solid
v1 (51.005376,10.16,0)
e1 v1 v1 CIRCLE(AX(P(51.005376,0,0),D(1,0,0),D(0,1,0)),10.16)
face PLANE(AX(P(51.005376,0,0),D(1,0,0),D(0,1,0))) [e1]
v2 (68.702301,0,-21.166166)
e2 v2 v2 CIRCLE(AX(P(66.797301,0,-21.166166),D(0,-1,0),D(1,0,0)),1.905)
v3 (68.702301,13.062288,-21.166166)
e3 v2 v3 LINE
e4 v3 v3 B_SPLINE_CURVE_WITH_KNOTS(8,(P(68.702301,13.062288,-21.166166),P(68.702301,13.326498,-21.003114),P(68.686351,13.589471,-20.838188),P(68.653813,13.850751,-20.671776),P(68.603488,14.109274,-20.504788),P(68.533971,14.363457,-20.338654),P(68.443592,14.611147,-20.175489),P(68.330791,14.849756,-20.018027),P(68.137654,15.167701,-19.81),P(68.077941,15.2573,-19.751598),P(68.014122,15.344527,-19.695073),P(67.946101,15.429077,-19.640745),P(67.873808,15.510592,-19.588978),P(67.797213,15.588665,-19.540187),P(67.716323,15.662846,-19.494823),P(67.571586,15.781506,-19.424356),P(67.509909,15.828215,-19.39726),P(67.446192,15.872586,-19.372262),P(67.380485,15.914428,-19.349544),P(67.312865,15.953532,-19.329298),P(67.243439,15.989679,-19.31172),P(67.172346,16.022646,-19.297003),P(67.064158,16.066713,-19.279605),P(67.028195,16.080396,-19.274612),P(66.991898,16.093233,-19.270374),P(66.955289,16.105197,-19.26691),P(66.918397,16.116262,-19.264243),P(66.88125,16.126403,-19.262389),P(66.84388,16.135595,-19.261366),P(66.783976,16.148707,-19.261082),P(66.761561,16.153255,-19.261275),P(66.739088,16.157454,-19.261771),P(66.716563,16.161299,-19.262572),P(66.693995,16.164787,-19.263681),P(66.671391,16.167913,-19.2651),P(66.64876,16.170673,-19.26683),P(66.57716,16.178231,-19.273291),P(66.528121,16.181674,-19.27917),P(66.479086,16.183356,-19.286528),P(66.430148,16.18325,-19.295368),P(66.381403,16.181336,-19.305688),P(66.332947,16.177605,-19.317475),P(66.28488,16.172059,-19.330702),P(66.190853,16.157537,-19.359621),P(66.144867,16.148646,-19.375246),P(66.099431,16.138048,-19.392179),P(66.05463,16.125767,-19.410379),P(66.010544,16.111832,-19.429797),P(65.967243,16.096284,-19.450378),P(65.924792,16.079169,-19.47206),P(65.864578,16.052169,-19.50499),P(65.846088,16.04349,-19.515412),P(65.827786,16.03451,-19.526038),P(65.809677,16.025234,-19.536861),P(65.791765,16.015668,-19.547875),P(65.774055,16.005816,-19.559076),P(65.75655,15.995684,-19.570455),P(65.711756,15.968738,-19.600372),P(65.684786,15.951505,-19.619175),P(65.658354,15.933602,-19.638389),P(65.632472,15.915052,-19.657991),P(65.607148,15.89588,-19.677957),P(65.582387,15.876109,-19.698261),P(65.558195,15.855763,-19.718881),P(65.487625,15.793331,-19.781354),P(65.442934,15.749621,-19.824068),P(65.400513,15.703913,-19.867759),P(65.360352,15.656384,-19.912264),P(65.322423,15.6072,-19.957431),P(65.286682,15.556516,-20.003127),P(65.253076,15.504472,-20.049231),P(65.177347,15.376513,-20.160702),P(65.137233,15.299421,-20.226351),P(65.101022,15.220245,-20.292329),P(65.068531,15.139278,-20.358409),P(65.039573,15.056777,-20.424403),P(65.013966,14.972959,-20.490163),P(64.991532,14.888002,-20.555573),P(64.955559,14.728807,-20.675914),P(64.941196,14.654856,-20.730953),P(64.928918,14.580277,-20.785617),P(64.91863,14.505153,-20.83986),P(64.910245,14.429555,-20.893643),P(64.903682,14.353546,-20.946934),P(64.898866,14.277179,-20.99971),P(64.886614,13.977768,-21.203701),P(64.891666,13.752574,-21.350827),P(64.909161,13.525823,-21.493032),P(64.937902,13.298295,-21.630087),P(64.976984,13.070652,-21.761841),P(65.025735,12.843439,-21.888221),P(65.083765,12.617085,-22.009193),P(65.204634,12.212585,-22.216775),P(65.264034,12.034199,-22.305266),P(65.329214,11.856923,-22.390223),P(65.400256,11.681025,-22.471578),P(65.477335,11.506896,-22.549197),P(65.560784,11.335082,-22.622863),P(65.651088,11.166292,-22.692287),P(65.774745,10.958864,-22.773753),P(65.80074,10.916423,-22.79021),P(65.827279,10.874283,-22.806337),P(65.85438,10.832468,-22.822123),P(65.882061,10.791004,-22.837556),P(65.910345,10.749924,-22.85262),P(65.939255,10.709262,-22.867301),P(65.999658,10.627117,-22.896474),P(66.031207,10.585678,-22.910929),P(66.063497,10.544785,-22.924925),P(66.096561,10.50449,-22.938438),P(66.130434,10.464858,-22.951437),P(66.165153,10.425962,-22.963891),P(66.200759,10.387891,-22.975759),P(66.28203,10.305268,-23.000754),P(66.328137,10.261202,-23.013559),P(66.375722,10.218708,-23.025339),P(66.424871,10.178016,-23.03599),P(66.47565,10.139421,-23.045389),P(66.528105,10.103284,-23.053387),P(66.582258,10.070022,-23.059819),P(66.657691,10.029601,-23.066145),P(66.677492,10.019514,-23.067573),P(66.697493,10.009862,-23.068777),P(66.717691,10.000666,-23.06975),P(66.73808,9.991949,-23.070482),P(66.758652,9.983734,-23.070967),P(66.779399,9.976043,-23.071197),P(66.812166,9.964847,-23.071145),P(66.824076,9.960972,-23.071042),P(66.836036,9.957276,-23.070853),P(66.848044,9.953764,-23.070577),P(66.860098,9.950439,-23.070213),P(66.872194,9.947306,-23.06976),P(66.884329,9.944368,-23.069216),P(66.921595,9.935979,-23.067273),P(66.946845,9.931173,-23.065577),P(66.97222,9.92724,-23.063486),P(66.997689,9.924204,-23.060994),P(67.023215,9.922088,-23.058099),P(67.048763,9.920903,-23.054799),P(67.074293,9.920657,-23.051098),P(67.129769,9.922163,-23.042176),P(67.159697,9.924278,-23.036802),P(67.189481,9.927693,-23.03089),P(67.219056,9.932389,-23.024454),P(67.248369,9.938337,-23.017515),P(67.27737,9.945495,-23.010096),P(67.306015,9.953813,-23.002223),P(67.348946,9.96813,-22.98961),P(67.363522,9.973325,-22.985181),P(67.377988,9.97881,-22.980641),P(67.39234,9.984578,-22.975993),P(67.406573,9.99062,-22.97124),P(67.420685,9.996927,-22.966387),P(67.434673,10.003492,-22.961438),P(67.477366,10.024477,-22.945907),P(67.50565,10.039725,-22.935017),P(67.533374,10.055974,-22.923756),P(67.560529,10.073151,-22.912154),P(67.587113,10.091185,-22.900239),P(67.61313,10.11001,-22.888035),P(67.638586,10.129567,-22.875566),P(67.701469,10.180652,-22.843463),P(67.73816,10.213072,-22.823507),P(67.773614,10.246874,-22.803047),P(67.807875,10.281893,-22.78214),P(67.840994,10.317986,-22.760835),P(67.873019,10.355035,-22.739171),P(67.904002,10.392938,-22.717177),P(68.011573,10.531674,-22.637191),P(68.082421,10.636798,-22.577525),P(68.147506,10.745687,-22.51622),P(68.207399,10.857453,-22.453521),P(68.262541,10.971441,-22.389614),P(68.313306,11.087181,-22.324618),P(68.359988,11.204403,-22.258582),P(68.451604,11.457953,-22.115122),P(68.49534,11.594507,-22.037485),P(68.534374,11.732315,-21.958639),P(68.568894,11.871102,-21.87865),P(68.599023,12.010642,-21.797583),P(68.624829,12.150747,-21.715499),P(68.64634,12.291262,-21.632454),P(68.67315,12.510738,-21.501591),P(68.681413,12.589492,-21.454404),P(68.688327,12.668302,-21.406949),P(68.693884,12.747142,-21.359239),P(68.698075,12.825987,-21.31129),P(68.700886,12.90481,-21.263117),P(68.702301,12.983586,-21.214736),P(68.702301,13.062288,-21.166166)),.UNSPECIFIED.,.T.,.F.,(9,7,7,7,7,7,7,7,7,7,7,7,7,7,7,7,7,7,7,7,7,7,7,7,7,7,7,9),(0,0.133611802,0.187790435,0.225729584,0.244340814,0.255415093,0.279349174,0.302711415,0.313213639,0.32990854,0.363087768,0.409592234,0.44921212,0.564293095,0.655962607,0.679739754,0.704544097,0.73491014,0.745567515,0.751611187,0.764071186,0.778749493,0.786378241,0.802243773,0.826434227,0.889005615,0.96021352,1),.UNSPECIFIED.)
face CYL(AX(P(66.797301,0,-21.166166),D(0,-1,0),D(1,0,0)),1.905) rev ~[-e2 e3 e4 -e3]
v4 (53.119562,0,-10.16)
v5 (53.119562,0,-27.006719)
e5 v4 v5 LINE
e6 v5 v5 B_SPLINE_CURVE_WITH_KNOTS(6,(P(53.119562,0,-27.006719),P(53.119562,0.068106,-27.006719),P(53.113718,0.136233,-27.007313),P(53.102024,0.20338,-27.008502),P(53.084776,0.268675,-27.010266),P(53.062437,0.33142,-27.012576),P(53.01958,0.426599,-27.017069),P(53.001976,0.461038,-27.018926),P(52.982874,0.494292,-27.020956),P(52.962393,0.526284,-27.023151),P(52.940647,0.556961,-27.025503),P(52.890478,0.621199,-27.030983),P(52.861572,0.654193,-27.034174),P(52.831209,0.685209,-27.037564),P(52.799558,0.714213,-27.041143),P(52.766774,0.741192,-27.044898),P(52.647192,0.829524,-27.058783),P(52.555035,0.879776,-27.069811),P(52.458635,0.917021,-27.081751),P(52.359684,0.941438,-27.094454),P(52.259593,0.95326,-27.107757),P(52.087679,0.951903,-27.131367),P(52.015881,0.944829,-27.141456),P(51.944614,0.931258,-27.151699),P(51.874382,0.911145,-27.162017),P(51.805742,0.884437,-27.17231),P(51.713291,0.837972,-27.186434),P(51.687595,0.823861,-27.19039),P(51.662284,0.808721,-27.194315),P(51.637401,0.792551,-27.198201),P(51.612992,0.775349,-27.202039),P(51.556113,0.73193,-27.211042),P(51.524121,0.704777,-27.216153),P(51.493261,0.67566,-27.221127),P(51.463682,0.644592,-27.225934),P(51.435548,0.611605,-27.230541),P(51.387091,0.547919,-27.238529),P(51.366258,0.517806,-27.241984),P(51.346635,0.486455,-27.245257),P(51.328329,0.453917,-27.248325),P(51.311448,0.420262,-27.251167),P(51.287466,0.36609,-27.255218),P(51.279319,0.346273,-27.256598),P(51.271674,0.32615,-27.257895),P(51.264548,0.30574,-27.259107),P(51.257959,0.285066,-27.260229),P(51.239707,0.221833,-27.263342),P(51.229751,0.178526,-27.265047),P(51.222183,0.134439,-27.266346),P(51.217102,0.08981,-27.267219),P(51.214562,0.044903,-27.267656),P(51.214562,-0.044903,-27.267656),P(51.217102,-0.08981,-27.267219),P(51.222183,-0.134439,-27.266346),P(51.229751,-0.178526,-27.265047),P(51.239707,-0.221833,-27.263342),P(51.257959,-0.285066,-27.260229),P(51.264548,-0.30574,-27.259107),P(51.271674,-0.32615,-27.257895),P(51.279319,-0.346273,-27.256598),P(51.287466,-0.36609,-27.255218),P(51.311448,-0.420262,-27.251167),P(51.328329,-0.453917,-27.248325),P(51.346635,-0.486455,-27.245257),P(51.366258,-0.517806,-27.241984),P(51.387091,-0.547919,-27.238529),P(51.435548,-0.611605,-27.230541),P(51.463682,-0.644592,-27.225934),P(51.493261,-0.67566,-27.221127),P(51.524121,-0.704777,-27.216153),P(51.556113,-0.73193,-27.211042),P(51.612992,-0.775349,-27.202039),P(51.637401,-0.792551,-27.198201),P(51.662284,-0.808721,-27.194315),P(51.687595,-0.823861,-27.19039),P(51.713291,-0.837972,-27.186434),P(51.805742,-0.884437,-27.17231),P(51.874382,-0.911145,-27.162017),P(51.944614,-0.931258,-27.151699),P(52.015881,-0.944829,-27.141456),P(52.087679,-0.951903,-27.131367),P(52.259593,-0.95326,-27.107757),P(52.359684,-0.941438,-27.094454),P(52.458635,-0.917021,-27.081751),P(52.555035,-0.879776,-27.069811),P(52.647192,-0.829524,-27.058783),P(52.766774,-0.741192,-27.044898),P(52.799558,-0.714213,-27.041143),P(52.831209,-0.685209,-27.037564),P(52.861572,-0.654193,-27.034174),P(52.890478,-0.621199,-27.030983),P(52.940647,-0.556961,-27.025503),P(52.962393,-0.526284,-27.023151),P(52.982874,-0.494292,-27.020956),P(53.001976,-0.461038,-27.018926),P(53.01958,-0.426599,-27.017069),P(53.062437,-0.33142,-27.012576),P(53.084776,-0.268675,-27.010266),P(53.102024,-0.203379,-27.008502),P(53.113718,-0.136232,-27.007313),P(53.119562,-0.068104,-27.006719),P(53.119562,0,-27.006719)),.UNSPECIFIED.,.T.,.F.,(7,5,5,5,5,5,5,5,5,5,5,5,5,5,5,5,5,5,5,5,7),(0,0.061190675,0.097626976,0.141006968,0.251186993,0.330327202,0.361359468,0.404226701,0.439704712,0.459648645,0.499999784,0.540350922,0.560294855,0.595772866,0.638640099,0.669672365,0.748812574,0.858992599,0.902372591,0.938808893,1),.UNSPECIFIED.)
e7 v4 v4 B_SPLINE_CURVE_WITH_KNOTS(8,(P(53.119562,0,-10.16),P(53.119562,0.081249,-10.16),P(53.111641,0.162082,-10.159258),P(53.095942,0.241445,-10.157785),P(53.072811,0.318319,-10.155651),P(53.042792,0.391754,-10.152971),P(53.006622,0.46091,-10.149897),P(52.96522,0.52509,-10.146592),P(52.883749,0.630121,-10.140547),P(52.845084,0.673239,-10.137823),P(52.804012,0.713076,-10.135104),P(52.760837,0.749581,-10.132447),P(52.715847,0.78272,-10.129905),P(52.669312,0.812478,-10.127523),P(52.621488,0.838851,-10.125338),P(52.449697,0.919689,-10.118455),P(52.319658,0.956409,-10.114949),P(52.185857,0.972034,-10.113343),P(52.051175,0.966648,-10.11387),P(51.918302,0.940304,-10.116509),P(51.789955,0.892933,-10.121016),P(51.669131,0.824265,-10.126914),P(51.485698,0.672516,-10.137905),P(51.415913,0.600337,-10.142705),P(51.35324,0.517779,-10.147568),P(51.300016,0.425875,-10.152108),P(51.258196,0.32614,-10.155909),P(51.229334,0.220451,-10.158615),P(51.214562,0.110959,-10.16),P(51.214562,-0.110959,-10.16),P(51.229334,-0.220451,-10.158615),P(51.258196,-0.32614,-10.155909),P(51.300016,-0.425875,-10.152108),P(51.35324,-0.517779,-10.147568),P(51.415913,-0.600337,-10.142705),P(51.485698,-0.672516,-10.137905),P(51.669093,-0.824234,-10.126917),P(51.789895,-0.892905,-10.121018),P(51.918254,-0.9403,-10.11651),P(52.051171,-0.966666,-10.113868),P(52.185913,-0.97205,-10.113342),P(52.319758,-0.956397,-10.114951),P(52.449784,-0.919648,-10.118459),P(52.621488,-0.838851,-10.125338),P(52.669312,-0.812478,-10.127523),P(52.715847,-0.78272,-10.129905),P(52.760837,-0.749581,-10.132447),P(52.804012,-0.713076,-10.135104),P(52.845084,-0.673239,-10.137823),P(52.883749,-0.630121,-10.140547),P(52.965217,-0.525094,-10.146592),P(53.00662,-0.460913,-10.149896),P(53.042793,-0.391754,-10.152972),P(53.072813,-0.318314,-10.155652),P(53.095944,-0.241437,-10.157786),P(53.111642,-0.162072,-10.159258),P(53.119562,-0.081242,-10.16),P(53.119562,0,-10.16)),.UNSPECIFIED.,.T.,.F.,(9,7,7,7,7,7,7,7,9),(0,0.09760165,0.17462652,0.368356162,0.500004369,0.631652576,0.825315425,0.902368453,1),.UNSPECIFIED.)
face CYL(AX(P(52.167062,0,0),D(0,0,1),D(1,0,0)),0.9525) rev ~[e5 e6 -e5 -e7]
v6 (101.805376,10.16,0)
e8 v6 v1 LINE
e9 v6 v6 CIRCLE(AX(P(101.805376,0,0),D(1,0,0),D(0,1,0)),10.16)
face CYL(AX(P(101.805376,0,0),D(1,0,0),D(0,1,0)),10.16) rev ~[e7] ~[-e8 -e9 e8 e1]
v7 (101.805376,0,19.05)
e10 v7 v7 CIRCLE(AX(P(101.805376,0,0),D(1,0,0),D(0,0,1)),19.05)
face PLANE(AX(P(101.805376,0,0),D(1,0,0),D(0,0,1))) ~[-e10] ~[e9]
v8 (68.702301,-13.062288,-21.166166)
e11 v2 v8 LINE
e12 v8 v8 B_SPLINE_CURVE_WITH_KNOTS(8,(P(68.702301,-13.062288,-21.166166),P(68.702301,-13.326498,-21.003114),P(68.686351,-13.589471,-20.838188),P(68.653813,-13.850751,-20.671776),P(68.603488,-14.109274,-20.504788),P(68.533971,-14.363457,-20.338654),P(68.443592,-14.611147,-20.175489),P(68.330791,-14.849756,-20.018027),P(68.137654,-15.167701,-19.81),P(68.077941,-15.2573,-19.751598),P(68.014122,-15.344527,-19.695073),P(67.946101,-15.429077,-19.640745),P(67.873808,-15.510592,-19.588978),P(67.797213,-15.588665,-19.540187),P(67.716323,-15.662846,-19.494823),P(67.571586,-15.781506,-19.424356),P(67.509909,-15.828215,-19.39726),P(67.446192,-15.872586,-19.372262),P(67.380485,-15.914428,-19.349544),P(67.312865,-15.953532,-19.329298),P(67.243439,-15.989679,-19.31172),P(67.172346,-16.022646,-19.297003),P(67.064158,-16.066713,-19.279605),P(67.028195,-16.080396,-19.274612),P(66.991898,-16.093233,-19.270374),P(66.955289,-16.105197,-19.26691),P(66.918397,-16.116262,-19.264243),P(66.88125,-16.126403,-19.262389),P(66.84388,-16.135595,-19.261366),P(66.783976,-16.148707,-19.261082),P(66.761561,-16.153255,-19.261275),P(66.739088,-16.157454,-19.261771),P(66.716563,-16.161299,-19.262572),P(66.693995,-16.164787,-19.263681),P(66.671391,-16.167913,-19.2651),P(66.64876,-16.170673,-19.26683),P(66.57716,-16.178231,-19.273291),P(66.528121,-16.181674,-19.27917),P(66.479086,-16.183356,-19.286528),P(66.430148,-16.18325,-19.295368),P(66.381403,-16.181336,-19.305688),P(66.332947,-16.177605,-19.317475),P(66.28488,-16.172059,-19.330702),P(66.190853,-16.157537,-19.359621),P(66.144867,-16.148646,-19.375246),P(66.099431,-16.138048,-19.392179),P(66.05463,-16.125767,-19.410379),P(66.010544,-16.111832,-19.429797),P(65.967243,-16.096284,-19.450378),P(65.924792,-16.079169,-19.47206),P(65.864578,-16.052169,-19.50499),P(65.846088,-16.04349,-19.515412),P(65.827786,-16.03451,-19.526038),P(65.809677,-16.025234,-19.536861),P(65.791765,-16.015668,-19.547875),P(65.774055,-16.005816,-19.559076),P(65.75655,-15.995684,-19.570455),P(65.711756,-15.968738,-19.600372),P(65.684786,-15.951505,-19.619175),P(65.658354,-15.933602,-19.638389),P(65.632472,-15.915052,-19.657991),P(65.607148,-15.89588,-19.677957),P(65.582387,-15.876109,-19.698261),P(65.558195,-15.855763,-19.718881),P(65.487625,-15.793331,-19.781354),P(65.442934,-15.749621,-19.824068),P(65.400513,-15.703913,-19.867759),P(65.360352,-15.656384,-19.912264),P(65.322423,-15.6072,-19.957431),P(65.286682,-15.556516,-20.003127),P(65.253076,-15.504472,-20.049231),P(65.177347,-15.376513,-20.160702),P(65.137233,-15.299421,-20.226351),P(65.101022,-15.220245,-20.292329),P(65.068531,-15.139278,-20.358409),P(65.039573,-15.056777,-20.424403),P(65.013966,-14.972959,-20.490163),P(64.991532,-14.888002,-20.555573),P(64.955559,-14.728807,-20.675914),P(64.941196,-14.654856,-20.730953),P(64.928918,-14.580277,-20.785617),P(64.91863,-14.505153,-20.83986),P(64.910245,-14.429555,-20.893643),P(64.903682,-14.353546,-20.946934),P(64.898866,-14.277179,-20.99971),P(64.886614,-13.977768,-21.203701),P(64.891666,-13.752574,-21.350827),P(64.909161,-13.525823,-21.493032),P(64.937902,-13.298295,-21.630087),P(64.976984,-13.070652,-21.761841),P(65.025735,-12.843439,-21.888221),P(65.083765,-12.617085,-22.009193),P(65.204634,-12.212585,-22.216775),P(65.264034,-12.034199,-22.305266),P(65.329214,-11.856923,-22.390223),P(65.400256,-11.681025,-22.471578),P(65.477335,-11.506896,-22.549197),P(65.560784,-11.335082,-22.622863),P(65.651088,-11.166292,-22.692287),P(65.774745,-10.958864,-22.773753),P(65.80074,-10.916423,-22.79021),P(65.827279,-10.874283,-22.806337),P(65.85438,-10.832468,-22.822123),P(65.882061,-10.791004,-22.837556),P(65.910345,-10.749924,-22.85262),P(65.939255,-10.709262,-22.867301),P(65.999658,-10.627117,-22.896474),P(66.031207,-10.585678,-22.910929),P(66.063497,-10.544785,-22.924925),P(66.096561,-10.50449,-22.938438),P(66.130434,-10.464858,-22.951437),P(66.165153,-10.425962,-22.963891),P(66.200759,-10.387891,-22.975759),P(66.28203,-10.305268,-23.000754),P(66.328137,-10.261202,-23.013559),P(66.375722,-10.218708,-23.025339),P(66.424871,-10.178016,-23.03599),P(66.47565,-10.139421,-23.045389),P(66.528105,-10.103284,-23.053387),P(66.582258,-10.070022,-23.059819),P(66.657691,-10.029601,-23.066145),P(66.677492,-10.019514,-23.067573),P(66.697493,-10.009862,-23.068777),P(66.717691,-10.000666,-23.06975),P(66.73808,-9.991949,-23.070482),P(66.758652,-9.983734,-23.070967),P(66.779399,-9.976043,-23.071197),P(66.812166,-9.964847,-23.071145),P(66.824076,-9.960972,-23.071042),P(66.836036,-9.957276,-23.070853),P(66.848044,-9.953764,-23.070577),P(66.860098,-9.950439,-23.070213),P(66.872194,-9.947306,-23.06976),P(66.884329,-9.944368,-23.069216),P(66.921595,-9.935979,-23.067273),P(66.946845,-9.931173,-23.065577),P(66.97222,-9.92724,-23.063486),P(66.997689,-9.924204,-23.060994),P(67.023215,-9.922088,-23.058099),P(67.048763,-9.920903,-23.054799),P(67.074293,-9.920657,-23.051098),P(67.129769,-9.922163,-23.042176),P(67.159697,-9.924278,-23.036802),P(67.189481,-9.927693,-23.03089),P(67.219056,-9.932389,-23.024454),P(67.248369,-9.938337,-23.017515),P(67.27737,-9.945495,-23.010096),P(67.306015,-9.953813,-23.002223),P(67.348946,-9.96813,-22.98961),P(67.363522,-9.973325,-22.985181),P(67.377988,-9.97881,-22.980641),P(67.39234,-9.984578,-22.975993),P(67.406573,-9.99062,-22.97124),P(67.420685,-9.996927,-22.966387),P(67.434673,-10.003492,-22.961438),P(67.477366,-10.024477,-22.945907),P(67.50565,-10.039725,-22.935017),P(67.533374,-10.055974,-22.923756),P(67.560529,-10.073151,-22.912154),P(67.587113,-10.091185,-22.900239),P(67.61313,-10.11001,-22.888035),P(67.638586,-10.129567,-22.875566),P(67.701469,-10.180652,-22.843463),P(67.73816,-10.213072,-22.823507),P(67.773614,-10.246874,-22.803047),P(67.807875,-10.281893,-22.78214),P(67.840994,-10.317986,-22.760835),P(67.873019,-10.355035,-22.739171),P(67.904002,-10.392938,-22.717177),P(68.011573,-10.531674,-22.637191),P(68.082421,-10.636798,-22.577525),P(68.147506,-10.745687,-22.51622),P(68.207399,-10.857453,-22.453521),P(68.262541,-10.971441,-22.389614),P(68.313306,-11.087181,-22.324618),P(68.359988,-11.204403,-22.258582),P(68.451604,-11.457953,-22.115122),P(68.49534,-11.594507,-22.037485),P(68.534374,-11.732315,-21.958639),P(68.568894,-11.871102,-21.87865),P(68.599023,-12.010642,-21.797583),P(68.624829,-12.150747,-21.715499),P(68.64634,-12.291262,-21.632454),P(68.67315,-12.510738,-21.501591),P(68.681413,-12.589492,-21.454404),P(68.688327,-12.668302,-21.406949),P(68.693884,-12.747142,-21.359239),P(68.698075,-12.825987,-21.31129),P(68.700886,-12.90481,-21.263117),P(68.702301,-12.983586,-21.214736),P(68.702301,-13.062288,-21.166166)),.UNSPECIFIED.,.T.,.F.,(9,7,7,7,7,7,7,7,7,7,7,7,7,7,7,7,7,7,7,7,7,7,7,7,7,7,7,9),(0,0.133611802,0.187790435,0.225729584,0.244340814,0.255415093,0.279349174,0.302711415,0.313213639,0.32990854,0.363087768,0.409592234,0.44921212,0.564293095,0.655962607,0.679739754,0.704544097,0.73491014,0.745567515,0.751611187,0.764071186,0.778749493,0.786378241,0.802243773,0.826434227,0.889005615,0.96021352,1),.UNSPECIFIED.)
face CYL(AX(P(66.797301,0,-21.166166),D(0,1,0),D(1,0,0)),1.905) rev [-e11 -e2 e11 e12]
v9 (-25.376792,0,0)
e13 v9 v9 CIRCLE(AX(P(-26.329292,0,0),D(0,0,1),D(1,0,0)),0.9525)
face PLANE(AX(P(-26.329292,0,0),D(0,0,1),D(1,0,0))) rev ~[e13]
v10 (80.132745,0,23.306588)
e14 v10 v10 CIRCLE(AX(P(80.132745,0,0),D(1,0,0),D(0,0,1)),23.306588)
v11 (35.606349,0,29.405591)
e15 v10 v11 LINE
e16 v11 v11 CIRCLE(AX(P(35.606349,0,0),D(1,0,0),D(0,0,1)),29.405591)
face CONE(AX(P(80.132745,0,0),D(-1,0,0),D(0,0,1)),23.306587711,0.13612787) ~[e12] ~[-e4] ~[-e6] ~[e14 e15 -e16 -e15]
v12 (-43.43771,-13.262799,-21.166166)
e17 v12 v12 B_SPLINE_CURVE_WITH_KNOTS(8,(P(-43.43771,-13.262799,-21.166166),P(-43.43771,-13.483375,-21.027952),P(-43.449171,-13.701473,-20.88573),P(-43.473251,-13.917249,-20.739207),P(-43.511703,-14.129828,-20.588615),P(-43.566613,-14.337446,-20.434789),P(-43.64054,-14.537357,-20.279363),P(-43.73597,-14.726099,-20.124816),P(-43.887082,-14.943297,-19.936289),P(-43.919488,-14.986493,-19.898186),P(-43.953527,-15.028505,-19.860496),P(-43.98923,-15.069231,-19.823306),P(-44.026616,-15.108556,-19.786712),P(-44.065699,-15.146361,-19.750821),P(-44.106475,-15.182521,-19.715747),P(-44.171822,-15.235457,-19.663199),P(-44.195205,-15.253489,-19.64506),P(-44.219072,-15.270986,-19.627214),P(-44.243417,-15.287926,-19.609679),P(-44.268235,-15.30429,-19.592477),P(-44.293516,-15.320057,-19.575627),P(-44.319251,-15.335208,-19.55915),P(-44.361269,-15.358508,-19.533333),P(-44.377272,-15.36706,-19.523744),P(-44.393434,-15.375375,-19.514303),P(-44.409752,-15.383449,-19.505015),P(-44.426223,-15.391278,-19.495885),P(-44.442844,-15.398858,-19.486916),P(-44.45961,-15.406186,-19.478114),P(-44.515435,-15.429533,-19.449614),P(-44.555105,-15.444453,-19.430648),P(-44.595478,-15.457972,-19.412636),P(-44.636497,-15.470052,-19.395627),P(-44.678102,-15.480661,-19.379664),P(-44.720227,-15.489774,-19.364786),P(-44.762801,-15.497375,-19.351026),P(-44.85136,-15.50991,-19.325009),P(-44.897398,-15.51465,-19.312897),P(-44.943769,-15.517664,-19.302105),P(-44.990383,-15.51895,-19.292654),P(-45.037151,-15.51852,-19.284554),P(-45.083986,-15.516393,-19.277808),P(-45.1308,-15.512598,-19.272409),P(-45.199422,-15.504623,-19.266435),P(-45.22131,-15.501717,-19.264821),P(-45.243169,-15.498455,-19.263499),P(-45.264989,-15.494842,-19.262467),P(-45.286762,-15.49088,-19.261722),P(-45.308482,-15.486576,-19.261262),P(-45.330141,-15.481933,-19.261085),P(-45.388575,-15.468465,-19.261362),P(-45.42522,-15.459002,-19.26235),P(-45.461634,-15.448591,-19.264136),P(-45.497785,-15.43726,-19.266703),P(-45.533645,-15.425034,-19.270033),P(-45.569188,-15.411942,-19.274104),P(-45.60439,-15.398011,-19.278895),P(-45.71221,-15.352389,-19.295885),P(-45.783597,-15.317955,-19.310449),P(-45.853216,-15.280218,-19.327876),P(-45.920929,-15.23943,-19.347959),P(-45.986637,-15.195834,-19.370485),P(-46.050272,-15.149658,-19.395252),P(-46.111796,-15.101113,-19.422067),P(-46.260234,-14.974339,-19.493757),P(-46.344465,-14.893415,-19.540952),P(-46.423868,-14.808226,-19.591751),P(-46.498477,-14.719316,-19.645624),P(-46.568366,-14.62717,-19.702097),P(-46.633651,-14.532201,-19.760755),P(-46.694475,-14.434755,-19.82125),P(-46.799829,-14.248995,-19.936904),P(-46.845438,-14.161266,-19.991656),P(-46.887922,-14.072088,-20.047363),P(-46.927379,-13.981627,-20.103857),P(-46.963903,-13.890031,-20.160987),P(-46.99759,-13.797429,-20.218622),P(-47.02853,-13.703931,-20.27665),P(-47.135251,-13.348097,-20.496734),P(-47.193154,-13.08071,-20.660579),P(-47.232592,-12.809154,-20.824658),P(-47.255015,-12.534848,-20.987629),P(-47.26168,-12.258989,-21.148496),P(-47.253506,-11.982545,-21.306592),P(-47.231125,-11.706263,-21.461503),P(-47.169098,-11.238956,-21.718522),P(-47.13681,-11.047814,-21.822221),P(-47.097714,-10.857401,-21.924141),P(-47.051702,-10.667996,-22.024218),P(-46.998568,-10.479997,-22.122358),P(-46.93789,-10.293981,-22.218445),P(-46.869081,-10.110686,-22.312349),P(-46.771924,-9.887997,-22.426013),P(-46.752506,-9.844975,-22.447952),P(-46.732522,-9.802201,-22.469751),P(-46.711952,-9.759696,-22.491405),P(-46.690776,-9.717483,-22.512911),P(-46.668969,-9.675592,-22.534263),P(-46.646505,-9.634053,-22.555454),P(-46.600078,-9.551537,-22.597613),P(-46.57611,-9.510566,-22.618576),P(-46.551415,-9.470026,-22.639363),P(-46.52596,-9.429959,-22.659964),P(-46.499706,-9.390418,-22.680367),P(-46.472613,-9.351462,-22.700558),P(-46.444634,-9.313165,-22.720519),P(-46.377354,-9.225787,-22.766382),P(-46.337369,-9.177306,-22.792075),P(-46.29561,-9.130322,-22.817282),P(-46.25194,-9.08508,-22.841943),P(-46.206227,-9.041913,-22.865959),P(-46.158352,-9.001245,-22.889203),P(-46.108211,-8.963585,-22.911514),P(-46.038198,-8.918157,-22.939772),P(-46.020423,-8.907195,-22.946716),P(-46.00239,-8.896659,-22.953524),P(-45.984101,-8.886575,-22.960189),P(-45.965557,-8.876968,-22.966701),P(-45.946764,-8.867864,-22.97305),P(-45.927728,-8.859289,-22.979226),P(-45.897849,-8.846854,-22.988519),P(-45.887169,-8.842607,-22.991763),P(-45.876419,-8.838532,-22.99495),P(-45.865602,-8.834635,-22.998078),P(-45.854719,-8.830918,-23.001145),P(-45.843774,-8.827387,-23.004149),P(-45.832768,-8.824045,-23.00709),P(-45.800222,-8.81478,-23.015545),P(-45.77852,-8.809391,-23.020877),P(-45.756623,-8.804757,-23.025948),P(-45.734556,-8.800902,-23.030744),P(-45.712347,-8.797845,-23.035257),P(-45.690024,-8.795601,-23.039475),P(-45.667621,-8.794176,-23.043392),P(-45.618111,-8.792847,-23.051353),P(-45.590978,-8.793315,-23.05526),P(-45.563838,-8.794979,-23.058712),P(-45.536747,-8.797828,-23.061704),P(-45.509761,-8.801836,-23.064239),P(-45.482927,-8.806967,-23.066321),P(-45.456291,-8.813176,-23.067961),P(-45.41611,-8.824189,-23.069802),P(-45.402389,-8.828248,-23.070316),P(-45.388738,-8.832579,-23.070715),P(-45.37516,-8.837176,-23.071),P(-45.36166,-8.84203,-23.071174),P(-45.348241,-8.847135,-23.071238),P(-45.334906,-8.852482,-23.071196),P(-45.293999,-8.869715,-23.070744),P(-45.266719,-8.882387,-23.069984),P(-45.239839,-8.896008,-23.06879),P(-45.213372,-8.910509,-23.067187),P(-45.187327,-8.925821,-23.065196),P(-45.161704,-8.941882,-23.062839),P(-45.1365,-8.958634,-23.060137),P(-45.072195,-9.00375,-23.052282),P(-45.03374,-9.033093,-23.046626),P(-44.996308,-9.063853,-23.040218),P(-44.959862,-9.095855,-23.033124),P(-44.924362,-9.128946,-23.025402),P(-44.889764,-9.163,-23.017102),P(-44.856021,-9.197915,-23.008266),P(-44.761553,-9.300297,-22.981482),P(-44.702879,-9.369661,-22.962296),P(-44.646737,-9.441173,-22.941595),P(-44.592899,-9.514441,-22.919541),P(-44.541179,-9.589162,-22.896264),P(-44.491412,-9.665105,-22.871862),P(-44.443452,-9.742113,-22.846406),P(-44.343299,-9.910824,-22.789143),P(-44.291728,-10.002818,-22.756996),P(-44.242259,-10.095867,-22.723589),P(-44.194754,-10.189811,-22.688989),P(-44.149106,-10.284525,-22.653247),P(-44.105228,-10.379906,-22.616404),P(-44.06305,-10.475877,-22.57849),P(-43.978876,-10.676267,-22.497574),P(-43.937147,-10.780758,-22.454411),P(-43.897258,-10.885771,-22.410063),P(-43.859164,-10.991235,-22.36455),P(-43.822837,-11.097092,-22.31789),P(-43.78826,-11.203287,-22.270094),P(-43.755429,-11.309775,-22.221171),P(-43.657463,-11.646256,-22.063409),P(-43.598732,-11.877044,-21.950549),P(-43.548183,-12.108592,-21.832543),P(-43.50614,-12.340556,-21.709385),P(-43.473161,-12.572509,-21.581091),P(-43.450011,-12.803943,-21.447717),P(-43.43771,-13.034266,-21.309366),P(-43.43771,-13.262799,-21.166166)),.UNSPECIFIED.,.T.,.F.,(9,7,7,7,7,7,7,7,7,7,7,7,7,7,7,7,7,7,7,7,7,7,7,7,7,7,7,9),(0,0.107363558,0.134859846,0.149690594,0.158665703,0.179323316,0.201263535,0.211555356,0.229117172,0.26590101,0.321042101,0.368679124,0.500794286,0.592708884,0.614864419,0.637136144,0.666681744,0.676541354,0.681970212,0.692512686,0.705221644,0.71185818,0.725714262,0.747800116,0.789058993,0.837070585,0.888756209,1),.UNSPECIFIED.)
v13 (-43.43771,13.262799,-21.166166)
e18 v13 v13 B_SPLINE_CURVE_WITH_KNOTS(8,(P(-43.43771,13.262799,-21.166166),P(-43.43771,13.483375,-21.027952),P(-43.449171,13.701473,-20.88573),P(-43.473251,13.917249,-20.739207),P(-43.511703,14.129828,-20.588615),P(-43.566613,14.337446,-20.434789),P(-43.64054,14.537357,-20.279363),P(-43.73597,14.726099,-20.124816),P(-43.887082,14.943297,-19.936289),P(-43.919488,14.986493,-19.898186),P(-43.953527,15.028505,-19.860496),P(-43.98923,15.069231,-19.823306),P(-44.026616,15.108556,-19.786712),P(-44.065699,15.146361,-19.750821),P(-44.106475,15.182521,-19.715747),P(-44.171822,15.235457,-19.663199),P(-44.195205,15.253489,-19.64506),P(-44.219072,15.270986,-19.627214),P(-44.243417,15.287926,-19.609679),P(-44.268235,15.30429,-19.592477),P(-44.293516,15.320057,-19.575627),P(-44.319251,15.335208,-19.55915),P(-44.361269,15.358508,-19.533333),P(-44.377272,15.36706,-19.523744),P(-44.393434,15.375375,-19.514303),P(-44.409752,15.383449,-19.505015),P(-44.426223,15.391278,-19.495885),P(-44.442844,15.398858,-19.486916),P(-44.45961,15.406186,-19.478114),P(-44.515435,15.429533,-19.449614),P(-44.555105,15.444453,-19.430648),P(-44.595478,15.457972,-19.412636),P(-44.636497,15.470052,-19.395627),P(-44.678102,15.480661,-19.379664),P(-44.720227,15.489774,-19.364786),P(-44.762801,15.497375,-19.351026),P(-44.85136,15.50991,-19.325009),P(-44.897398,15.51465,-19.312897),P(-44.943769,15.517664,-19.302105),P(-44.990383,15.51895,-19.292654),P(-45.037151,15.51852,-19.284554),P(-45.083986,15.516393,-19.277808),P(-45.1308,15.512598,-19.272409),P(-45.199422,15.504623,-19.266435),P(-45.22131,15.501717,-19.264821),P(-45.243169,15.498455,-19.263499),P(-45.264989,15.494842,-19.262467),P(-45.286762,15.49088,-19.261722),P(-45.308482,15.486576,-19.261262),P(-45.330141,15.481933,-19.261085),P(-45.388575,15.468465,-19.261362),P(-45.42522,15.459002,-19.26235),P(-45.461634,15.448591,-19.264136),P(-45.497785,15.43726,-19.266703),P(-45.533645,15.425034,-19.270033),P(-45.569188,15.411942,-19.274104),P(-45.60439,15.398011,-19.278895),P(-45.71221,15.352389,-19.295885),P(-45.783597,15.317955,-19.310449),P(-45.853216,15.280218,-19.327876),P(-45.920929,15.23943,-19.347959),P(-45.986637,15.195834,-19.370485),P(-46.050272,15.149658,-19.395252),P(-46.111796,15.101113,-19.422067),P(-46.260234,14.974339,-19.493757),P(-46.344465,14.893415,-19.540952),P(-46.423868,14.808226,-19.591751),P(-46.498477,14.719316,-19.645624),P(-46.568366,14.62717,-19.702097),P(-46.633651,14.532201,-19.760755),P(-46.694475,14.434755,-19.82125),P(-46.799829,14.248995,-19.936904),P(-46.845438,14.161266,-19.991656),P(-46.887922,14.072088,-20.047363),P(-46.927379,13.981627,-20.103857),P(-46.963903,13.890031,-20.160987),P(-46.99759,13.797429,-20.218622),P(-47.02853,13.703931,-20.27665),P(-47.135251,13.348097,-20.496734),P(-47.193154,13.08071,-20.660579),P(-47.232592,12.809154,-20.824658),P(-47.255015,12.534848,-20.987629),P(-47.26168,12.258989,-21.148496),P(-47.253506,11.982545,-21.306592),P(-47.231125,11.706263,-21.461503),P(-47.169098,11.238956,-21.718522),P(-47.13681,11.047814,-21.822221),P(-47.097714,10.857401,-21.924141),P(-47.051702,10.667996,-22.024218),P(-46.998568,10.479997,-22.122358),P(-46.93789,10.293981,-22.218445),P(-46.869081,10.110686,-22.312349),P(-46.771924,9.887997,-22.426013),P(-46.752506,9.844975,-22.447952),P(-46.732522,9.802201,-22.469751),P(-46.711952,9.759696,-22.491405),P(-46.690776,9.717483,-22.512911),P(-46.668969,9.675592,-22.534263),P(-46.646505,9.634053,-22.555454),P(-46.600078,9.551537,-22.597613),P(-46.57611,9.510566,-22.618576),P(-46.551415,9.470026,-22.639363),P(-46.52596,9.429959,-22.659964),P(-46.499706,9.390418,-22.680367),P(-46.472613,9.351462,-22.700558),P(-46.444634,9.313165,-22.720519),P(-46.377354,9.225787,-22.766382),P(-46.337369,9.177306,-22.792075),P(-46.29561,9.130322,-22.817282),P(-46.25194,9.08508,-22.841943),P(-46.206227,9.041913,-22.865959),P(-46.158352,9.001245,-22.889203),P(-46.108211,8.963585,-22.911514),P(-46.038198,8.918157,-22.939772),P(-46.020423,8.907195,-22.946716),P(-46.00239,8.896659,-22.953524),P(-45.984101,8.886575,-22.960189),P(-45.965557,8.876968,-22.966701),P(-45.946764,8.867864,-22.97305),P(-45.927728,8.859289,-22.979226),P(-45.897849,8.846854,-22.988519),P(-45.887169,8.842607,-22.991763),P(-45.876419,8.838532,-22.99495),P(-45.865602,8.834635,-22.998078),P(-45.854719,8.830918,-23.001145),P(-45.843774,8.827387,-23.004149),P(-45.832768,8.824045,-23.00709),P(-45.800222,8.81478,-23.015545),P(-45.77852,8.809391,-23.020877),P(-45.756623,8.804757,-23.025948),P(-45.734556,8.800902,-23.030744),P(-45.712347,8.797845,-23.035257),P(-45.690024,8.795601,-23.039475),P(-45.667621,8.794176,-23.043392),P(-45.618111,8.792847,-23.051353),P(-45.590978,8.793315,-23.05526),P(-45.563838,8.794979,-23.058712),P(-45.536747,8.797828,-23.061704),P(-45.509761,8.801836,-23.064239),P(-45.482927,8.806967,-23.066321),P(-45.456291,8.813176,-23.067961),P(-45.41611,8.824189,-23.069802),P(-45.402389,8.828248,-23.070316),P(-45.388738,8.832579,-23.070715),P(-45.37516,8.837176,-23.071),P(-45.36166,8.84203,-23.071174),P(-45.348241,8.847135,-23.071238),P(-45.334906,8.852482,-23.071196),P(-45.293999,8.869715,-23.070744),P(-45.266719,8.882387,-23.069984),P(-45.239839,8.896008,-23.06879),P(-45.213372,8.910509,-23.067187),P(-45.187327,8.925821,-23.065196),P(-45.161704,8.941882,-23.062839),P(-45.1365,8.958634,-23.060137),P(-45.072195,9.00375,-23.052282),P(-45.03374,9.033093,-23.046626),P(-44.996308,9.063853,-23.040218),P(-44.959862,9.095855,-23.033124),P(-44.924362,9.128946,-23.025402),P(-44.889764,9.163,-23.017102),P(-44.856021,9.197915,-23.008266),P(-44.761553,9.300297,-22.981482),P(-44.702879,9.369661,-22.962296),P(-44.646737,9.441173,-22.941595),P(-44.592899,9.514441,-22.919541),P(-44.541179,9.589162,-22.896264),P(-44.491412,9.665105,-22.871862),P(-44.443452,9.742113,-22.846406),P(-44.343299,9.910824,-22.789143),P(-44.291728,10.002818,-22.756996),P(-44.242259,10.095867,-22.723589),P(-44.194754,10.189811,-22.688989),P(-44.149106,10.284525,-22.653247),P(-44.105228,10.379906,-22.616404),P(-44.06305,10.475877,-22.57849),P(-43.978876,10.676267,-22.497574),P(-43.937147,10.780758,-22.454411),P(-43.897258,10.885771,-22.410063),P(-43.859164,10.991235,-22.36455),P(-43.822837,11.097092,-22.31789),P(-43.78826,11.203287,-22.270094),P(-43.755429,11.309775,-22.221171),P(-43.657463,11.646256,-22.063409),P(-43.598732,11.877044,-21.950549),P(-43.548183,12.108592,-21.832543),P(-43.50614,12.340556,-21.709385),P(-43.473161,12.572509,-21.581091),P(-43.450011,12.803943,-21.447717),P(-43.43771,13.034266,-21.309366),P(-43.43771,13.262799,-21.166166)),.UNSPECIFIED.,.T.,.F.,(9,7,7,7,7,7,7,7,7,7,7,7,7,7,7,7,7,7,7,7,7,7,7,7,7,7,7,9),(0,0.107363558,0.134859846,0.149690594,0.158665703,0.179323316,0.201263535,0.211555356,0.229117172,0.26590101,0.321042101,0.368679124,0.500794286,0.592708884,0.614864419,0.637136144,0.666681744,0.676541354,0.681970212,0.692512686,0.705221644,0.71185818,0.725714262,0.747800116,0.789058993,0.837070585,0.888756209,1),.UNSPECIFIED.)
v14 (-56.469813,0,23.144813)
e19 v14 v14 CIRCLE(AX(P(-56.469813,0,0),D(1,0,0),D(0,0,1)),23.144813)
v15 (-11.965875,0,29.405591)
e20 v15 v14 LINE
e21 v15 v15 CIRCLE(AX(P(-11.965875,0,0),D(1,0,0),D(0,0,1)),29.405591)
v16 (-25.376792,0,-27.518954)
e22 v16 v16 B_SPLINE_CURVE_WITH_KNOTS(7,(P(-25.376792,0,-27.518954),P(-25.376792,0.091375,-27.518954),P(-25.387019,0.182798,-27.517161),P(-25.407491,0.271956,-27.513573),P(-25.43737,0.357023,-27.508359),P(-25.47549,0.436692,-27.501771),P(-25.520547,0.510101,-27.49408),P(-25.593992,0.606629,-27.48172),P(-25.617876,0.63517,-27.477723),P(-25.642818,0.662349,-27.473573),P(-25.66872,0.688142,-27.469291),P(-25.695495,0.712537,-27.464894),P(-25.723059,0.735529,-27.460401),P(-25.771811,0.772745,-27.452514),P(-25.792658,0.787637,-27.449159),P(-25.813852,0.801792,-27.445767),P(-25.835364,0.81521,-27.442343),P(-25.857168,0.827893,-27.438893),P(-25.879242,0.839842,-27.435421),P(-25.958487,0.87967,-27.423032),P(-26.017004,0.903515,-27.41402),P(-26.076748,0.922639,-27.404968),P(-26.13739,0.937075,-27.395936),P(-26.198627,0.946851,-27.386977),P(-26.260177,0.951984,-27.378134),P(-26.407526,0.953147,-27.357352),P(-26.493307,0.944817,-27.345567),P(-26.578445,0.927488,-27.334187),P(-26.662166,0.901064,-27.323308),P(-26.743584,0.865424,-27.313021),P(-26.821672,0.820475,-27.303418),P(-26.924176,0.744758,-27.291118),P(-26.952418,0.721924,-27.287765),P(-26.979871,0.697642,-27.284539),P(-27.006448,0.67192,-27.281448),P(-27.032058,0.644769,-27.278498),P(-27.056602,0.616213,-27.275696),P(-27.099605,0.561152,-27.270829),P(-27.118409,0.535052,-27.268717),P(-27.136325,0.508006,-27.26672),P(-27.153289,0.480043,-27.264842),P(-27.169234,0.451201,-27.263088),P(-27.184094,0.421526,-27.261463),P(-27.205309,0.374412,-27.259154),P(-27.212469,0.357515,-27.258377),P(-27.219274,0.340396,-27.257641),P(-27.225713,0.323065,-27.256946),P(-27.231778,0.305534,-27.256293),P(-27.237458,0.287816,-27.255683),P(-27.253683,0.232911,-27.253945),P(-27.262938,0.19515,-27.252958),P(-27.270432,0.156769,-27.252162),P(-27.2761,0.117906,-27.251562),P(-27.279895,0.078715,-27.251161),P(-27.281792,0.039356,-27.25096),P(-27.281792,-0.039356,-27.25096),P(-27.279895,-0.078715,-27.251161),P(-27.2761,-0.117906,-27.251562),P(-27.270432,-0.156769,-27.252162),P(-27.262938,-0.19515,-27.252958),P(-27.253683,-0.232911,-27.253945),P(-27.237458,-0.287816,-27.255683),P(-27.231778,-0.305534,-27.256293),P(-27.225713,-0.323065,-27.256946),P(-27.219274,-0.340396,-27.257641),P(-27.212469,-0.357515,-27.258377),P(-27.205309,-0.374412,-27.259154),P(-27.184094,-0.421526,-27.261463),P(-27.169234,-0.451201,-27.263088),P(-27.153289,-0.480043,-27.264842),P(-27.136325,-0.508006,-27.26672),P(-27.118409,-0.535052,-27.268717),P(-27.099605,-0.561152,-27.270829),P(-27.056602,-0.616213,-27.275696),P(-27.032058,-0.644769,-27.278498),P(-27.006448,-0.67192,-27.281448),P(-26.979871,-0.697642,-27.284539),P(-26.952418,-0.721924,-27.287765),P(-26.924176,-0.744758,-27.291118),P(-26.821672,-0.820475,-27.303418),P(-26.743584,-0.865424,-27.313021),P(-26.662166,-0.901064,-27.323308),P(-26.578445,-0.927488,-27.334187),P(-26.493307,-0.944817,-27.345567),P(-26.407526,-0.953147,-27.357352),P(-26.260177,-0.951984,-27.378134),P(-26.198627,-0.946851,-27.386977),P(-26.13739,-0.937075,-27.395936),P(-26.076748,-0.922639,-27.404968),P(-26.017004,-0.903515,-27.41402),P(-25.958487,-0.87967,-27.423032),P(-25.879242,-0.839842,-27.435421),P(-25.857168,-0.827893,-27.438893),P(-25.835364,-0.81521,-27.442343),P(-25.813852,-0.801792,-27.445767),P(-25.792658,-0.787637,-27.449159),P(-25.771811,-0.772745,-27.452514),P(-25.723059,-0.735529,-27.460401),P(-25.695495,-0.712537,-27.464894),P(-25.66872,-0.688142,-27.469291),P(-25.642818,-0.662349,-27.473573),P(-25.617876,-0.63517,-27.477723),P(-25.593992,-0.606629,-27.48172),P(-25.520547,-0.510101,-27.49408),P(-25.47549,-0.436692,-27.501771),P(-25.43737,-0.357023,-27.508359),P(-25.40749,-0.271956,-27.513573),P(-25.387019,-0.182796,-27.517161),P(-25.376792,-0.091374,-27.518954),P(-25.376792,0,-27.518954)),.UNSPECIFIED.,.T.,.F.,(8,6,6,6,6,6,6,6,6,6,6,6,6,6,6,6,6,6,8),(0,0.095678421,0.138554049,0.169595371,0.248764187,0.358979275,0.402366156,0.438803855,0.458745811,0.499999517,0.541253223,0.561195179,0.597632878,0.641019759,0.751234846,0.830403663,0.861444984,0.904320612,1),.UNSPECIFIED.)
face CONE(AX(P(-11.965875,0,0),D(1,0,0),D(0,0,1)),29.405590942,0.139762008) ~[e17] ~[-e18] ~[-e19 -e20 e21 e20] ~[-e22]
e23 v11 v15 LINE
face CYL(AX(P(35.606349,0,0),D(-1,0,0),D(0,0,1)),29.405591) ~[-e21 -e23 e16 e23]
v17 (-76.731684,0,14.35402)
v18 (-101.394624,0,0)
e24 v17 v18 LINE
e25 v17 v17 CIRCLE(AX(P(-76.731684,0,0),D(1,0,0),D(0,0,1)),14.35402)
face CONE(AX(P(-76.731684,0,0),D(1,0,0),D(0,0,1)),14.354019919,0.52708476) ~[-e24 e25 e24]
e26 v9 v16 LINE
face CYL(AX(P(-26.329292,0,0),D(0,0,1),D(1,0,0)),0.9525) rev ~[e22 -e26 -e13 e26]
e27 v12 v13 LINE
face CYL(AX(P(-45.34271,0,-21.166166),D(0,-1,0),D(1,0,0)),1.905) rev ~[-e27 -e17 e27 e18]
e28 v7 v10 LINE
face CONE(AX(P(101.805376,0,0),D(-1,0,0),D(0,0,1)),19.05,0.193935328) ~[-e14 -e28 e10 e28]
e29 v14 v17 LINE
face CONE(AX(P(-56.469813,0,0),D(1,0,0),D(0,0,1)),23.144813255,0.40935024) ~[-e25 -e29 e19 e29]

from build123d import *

# Parameters (mm, degrees)
F2_R          = 1.905
F3_DEPTH      = 29.4065909418
F3_DEPTH_BACK = 29.4065909418
F4_R          = 10.16
F5_DEPTH      = 50.8
F6_R          = 0.9525
F7_DEPTH      = 38.1


with BuildPart() as f1:
    # F0 (on Front) → F1 (revolve)
    with BuildSketch(Plane.XZ):
        Polygon((-76.7316836545, 14.3540199185), (-101.3946243259, 0), (101.8053756741, 0), (101.8053756741, 19.05), (80.1327452064, 23.306587711), (35.6063488341, 29.4055909418), (-11.9658752189, 29.4055909418), (-56.4698129892, 23.1448132545), align=None)
    revolve(axis=Axis((0.2053756741, 0, 0), (1, 0, 0)))

    # F2 (on Front) → F3 (cut, two sides)
    with BuildSketch(Plane.XZ) as f3_sk:
        with Locations((-45.3427098691, -21.1661662906)):
            Circle(F2_R)
        with Locations((66.7973011732, -21.1661662906)):
            Circle(F2_R)
    extrude(amount=-F3_DEPTH, mode=Mode.SUBTRACT)
    extrude(f3_sk.sketch, amount=F3_DEPTH_BACK, mode=Mode.SUBTRACT)

    # F4 (on face) → F5 (cut)
    with BuildSketch(Plane.YZ.offset(101.8053756741)):
        Circle(F4_R)
    extrude(amount=-F5_DEPTH, mode=Mode.SUBTRACT)

    # F6 (on Top) → F7 (cut)
    with BuildSketch(Plane.XY):
        with Locations((-26.3292919844, 0)):
            Circle(F6_R)
        with Locations((52.1670617163, 0)):
            Circle(F6_R)
    extrude(amount=-F7_DEPTH, mode=Mode.SUBTRACT)


solid = f1.part
